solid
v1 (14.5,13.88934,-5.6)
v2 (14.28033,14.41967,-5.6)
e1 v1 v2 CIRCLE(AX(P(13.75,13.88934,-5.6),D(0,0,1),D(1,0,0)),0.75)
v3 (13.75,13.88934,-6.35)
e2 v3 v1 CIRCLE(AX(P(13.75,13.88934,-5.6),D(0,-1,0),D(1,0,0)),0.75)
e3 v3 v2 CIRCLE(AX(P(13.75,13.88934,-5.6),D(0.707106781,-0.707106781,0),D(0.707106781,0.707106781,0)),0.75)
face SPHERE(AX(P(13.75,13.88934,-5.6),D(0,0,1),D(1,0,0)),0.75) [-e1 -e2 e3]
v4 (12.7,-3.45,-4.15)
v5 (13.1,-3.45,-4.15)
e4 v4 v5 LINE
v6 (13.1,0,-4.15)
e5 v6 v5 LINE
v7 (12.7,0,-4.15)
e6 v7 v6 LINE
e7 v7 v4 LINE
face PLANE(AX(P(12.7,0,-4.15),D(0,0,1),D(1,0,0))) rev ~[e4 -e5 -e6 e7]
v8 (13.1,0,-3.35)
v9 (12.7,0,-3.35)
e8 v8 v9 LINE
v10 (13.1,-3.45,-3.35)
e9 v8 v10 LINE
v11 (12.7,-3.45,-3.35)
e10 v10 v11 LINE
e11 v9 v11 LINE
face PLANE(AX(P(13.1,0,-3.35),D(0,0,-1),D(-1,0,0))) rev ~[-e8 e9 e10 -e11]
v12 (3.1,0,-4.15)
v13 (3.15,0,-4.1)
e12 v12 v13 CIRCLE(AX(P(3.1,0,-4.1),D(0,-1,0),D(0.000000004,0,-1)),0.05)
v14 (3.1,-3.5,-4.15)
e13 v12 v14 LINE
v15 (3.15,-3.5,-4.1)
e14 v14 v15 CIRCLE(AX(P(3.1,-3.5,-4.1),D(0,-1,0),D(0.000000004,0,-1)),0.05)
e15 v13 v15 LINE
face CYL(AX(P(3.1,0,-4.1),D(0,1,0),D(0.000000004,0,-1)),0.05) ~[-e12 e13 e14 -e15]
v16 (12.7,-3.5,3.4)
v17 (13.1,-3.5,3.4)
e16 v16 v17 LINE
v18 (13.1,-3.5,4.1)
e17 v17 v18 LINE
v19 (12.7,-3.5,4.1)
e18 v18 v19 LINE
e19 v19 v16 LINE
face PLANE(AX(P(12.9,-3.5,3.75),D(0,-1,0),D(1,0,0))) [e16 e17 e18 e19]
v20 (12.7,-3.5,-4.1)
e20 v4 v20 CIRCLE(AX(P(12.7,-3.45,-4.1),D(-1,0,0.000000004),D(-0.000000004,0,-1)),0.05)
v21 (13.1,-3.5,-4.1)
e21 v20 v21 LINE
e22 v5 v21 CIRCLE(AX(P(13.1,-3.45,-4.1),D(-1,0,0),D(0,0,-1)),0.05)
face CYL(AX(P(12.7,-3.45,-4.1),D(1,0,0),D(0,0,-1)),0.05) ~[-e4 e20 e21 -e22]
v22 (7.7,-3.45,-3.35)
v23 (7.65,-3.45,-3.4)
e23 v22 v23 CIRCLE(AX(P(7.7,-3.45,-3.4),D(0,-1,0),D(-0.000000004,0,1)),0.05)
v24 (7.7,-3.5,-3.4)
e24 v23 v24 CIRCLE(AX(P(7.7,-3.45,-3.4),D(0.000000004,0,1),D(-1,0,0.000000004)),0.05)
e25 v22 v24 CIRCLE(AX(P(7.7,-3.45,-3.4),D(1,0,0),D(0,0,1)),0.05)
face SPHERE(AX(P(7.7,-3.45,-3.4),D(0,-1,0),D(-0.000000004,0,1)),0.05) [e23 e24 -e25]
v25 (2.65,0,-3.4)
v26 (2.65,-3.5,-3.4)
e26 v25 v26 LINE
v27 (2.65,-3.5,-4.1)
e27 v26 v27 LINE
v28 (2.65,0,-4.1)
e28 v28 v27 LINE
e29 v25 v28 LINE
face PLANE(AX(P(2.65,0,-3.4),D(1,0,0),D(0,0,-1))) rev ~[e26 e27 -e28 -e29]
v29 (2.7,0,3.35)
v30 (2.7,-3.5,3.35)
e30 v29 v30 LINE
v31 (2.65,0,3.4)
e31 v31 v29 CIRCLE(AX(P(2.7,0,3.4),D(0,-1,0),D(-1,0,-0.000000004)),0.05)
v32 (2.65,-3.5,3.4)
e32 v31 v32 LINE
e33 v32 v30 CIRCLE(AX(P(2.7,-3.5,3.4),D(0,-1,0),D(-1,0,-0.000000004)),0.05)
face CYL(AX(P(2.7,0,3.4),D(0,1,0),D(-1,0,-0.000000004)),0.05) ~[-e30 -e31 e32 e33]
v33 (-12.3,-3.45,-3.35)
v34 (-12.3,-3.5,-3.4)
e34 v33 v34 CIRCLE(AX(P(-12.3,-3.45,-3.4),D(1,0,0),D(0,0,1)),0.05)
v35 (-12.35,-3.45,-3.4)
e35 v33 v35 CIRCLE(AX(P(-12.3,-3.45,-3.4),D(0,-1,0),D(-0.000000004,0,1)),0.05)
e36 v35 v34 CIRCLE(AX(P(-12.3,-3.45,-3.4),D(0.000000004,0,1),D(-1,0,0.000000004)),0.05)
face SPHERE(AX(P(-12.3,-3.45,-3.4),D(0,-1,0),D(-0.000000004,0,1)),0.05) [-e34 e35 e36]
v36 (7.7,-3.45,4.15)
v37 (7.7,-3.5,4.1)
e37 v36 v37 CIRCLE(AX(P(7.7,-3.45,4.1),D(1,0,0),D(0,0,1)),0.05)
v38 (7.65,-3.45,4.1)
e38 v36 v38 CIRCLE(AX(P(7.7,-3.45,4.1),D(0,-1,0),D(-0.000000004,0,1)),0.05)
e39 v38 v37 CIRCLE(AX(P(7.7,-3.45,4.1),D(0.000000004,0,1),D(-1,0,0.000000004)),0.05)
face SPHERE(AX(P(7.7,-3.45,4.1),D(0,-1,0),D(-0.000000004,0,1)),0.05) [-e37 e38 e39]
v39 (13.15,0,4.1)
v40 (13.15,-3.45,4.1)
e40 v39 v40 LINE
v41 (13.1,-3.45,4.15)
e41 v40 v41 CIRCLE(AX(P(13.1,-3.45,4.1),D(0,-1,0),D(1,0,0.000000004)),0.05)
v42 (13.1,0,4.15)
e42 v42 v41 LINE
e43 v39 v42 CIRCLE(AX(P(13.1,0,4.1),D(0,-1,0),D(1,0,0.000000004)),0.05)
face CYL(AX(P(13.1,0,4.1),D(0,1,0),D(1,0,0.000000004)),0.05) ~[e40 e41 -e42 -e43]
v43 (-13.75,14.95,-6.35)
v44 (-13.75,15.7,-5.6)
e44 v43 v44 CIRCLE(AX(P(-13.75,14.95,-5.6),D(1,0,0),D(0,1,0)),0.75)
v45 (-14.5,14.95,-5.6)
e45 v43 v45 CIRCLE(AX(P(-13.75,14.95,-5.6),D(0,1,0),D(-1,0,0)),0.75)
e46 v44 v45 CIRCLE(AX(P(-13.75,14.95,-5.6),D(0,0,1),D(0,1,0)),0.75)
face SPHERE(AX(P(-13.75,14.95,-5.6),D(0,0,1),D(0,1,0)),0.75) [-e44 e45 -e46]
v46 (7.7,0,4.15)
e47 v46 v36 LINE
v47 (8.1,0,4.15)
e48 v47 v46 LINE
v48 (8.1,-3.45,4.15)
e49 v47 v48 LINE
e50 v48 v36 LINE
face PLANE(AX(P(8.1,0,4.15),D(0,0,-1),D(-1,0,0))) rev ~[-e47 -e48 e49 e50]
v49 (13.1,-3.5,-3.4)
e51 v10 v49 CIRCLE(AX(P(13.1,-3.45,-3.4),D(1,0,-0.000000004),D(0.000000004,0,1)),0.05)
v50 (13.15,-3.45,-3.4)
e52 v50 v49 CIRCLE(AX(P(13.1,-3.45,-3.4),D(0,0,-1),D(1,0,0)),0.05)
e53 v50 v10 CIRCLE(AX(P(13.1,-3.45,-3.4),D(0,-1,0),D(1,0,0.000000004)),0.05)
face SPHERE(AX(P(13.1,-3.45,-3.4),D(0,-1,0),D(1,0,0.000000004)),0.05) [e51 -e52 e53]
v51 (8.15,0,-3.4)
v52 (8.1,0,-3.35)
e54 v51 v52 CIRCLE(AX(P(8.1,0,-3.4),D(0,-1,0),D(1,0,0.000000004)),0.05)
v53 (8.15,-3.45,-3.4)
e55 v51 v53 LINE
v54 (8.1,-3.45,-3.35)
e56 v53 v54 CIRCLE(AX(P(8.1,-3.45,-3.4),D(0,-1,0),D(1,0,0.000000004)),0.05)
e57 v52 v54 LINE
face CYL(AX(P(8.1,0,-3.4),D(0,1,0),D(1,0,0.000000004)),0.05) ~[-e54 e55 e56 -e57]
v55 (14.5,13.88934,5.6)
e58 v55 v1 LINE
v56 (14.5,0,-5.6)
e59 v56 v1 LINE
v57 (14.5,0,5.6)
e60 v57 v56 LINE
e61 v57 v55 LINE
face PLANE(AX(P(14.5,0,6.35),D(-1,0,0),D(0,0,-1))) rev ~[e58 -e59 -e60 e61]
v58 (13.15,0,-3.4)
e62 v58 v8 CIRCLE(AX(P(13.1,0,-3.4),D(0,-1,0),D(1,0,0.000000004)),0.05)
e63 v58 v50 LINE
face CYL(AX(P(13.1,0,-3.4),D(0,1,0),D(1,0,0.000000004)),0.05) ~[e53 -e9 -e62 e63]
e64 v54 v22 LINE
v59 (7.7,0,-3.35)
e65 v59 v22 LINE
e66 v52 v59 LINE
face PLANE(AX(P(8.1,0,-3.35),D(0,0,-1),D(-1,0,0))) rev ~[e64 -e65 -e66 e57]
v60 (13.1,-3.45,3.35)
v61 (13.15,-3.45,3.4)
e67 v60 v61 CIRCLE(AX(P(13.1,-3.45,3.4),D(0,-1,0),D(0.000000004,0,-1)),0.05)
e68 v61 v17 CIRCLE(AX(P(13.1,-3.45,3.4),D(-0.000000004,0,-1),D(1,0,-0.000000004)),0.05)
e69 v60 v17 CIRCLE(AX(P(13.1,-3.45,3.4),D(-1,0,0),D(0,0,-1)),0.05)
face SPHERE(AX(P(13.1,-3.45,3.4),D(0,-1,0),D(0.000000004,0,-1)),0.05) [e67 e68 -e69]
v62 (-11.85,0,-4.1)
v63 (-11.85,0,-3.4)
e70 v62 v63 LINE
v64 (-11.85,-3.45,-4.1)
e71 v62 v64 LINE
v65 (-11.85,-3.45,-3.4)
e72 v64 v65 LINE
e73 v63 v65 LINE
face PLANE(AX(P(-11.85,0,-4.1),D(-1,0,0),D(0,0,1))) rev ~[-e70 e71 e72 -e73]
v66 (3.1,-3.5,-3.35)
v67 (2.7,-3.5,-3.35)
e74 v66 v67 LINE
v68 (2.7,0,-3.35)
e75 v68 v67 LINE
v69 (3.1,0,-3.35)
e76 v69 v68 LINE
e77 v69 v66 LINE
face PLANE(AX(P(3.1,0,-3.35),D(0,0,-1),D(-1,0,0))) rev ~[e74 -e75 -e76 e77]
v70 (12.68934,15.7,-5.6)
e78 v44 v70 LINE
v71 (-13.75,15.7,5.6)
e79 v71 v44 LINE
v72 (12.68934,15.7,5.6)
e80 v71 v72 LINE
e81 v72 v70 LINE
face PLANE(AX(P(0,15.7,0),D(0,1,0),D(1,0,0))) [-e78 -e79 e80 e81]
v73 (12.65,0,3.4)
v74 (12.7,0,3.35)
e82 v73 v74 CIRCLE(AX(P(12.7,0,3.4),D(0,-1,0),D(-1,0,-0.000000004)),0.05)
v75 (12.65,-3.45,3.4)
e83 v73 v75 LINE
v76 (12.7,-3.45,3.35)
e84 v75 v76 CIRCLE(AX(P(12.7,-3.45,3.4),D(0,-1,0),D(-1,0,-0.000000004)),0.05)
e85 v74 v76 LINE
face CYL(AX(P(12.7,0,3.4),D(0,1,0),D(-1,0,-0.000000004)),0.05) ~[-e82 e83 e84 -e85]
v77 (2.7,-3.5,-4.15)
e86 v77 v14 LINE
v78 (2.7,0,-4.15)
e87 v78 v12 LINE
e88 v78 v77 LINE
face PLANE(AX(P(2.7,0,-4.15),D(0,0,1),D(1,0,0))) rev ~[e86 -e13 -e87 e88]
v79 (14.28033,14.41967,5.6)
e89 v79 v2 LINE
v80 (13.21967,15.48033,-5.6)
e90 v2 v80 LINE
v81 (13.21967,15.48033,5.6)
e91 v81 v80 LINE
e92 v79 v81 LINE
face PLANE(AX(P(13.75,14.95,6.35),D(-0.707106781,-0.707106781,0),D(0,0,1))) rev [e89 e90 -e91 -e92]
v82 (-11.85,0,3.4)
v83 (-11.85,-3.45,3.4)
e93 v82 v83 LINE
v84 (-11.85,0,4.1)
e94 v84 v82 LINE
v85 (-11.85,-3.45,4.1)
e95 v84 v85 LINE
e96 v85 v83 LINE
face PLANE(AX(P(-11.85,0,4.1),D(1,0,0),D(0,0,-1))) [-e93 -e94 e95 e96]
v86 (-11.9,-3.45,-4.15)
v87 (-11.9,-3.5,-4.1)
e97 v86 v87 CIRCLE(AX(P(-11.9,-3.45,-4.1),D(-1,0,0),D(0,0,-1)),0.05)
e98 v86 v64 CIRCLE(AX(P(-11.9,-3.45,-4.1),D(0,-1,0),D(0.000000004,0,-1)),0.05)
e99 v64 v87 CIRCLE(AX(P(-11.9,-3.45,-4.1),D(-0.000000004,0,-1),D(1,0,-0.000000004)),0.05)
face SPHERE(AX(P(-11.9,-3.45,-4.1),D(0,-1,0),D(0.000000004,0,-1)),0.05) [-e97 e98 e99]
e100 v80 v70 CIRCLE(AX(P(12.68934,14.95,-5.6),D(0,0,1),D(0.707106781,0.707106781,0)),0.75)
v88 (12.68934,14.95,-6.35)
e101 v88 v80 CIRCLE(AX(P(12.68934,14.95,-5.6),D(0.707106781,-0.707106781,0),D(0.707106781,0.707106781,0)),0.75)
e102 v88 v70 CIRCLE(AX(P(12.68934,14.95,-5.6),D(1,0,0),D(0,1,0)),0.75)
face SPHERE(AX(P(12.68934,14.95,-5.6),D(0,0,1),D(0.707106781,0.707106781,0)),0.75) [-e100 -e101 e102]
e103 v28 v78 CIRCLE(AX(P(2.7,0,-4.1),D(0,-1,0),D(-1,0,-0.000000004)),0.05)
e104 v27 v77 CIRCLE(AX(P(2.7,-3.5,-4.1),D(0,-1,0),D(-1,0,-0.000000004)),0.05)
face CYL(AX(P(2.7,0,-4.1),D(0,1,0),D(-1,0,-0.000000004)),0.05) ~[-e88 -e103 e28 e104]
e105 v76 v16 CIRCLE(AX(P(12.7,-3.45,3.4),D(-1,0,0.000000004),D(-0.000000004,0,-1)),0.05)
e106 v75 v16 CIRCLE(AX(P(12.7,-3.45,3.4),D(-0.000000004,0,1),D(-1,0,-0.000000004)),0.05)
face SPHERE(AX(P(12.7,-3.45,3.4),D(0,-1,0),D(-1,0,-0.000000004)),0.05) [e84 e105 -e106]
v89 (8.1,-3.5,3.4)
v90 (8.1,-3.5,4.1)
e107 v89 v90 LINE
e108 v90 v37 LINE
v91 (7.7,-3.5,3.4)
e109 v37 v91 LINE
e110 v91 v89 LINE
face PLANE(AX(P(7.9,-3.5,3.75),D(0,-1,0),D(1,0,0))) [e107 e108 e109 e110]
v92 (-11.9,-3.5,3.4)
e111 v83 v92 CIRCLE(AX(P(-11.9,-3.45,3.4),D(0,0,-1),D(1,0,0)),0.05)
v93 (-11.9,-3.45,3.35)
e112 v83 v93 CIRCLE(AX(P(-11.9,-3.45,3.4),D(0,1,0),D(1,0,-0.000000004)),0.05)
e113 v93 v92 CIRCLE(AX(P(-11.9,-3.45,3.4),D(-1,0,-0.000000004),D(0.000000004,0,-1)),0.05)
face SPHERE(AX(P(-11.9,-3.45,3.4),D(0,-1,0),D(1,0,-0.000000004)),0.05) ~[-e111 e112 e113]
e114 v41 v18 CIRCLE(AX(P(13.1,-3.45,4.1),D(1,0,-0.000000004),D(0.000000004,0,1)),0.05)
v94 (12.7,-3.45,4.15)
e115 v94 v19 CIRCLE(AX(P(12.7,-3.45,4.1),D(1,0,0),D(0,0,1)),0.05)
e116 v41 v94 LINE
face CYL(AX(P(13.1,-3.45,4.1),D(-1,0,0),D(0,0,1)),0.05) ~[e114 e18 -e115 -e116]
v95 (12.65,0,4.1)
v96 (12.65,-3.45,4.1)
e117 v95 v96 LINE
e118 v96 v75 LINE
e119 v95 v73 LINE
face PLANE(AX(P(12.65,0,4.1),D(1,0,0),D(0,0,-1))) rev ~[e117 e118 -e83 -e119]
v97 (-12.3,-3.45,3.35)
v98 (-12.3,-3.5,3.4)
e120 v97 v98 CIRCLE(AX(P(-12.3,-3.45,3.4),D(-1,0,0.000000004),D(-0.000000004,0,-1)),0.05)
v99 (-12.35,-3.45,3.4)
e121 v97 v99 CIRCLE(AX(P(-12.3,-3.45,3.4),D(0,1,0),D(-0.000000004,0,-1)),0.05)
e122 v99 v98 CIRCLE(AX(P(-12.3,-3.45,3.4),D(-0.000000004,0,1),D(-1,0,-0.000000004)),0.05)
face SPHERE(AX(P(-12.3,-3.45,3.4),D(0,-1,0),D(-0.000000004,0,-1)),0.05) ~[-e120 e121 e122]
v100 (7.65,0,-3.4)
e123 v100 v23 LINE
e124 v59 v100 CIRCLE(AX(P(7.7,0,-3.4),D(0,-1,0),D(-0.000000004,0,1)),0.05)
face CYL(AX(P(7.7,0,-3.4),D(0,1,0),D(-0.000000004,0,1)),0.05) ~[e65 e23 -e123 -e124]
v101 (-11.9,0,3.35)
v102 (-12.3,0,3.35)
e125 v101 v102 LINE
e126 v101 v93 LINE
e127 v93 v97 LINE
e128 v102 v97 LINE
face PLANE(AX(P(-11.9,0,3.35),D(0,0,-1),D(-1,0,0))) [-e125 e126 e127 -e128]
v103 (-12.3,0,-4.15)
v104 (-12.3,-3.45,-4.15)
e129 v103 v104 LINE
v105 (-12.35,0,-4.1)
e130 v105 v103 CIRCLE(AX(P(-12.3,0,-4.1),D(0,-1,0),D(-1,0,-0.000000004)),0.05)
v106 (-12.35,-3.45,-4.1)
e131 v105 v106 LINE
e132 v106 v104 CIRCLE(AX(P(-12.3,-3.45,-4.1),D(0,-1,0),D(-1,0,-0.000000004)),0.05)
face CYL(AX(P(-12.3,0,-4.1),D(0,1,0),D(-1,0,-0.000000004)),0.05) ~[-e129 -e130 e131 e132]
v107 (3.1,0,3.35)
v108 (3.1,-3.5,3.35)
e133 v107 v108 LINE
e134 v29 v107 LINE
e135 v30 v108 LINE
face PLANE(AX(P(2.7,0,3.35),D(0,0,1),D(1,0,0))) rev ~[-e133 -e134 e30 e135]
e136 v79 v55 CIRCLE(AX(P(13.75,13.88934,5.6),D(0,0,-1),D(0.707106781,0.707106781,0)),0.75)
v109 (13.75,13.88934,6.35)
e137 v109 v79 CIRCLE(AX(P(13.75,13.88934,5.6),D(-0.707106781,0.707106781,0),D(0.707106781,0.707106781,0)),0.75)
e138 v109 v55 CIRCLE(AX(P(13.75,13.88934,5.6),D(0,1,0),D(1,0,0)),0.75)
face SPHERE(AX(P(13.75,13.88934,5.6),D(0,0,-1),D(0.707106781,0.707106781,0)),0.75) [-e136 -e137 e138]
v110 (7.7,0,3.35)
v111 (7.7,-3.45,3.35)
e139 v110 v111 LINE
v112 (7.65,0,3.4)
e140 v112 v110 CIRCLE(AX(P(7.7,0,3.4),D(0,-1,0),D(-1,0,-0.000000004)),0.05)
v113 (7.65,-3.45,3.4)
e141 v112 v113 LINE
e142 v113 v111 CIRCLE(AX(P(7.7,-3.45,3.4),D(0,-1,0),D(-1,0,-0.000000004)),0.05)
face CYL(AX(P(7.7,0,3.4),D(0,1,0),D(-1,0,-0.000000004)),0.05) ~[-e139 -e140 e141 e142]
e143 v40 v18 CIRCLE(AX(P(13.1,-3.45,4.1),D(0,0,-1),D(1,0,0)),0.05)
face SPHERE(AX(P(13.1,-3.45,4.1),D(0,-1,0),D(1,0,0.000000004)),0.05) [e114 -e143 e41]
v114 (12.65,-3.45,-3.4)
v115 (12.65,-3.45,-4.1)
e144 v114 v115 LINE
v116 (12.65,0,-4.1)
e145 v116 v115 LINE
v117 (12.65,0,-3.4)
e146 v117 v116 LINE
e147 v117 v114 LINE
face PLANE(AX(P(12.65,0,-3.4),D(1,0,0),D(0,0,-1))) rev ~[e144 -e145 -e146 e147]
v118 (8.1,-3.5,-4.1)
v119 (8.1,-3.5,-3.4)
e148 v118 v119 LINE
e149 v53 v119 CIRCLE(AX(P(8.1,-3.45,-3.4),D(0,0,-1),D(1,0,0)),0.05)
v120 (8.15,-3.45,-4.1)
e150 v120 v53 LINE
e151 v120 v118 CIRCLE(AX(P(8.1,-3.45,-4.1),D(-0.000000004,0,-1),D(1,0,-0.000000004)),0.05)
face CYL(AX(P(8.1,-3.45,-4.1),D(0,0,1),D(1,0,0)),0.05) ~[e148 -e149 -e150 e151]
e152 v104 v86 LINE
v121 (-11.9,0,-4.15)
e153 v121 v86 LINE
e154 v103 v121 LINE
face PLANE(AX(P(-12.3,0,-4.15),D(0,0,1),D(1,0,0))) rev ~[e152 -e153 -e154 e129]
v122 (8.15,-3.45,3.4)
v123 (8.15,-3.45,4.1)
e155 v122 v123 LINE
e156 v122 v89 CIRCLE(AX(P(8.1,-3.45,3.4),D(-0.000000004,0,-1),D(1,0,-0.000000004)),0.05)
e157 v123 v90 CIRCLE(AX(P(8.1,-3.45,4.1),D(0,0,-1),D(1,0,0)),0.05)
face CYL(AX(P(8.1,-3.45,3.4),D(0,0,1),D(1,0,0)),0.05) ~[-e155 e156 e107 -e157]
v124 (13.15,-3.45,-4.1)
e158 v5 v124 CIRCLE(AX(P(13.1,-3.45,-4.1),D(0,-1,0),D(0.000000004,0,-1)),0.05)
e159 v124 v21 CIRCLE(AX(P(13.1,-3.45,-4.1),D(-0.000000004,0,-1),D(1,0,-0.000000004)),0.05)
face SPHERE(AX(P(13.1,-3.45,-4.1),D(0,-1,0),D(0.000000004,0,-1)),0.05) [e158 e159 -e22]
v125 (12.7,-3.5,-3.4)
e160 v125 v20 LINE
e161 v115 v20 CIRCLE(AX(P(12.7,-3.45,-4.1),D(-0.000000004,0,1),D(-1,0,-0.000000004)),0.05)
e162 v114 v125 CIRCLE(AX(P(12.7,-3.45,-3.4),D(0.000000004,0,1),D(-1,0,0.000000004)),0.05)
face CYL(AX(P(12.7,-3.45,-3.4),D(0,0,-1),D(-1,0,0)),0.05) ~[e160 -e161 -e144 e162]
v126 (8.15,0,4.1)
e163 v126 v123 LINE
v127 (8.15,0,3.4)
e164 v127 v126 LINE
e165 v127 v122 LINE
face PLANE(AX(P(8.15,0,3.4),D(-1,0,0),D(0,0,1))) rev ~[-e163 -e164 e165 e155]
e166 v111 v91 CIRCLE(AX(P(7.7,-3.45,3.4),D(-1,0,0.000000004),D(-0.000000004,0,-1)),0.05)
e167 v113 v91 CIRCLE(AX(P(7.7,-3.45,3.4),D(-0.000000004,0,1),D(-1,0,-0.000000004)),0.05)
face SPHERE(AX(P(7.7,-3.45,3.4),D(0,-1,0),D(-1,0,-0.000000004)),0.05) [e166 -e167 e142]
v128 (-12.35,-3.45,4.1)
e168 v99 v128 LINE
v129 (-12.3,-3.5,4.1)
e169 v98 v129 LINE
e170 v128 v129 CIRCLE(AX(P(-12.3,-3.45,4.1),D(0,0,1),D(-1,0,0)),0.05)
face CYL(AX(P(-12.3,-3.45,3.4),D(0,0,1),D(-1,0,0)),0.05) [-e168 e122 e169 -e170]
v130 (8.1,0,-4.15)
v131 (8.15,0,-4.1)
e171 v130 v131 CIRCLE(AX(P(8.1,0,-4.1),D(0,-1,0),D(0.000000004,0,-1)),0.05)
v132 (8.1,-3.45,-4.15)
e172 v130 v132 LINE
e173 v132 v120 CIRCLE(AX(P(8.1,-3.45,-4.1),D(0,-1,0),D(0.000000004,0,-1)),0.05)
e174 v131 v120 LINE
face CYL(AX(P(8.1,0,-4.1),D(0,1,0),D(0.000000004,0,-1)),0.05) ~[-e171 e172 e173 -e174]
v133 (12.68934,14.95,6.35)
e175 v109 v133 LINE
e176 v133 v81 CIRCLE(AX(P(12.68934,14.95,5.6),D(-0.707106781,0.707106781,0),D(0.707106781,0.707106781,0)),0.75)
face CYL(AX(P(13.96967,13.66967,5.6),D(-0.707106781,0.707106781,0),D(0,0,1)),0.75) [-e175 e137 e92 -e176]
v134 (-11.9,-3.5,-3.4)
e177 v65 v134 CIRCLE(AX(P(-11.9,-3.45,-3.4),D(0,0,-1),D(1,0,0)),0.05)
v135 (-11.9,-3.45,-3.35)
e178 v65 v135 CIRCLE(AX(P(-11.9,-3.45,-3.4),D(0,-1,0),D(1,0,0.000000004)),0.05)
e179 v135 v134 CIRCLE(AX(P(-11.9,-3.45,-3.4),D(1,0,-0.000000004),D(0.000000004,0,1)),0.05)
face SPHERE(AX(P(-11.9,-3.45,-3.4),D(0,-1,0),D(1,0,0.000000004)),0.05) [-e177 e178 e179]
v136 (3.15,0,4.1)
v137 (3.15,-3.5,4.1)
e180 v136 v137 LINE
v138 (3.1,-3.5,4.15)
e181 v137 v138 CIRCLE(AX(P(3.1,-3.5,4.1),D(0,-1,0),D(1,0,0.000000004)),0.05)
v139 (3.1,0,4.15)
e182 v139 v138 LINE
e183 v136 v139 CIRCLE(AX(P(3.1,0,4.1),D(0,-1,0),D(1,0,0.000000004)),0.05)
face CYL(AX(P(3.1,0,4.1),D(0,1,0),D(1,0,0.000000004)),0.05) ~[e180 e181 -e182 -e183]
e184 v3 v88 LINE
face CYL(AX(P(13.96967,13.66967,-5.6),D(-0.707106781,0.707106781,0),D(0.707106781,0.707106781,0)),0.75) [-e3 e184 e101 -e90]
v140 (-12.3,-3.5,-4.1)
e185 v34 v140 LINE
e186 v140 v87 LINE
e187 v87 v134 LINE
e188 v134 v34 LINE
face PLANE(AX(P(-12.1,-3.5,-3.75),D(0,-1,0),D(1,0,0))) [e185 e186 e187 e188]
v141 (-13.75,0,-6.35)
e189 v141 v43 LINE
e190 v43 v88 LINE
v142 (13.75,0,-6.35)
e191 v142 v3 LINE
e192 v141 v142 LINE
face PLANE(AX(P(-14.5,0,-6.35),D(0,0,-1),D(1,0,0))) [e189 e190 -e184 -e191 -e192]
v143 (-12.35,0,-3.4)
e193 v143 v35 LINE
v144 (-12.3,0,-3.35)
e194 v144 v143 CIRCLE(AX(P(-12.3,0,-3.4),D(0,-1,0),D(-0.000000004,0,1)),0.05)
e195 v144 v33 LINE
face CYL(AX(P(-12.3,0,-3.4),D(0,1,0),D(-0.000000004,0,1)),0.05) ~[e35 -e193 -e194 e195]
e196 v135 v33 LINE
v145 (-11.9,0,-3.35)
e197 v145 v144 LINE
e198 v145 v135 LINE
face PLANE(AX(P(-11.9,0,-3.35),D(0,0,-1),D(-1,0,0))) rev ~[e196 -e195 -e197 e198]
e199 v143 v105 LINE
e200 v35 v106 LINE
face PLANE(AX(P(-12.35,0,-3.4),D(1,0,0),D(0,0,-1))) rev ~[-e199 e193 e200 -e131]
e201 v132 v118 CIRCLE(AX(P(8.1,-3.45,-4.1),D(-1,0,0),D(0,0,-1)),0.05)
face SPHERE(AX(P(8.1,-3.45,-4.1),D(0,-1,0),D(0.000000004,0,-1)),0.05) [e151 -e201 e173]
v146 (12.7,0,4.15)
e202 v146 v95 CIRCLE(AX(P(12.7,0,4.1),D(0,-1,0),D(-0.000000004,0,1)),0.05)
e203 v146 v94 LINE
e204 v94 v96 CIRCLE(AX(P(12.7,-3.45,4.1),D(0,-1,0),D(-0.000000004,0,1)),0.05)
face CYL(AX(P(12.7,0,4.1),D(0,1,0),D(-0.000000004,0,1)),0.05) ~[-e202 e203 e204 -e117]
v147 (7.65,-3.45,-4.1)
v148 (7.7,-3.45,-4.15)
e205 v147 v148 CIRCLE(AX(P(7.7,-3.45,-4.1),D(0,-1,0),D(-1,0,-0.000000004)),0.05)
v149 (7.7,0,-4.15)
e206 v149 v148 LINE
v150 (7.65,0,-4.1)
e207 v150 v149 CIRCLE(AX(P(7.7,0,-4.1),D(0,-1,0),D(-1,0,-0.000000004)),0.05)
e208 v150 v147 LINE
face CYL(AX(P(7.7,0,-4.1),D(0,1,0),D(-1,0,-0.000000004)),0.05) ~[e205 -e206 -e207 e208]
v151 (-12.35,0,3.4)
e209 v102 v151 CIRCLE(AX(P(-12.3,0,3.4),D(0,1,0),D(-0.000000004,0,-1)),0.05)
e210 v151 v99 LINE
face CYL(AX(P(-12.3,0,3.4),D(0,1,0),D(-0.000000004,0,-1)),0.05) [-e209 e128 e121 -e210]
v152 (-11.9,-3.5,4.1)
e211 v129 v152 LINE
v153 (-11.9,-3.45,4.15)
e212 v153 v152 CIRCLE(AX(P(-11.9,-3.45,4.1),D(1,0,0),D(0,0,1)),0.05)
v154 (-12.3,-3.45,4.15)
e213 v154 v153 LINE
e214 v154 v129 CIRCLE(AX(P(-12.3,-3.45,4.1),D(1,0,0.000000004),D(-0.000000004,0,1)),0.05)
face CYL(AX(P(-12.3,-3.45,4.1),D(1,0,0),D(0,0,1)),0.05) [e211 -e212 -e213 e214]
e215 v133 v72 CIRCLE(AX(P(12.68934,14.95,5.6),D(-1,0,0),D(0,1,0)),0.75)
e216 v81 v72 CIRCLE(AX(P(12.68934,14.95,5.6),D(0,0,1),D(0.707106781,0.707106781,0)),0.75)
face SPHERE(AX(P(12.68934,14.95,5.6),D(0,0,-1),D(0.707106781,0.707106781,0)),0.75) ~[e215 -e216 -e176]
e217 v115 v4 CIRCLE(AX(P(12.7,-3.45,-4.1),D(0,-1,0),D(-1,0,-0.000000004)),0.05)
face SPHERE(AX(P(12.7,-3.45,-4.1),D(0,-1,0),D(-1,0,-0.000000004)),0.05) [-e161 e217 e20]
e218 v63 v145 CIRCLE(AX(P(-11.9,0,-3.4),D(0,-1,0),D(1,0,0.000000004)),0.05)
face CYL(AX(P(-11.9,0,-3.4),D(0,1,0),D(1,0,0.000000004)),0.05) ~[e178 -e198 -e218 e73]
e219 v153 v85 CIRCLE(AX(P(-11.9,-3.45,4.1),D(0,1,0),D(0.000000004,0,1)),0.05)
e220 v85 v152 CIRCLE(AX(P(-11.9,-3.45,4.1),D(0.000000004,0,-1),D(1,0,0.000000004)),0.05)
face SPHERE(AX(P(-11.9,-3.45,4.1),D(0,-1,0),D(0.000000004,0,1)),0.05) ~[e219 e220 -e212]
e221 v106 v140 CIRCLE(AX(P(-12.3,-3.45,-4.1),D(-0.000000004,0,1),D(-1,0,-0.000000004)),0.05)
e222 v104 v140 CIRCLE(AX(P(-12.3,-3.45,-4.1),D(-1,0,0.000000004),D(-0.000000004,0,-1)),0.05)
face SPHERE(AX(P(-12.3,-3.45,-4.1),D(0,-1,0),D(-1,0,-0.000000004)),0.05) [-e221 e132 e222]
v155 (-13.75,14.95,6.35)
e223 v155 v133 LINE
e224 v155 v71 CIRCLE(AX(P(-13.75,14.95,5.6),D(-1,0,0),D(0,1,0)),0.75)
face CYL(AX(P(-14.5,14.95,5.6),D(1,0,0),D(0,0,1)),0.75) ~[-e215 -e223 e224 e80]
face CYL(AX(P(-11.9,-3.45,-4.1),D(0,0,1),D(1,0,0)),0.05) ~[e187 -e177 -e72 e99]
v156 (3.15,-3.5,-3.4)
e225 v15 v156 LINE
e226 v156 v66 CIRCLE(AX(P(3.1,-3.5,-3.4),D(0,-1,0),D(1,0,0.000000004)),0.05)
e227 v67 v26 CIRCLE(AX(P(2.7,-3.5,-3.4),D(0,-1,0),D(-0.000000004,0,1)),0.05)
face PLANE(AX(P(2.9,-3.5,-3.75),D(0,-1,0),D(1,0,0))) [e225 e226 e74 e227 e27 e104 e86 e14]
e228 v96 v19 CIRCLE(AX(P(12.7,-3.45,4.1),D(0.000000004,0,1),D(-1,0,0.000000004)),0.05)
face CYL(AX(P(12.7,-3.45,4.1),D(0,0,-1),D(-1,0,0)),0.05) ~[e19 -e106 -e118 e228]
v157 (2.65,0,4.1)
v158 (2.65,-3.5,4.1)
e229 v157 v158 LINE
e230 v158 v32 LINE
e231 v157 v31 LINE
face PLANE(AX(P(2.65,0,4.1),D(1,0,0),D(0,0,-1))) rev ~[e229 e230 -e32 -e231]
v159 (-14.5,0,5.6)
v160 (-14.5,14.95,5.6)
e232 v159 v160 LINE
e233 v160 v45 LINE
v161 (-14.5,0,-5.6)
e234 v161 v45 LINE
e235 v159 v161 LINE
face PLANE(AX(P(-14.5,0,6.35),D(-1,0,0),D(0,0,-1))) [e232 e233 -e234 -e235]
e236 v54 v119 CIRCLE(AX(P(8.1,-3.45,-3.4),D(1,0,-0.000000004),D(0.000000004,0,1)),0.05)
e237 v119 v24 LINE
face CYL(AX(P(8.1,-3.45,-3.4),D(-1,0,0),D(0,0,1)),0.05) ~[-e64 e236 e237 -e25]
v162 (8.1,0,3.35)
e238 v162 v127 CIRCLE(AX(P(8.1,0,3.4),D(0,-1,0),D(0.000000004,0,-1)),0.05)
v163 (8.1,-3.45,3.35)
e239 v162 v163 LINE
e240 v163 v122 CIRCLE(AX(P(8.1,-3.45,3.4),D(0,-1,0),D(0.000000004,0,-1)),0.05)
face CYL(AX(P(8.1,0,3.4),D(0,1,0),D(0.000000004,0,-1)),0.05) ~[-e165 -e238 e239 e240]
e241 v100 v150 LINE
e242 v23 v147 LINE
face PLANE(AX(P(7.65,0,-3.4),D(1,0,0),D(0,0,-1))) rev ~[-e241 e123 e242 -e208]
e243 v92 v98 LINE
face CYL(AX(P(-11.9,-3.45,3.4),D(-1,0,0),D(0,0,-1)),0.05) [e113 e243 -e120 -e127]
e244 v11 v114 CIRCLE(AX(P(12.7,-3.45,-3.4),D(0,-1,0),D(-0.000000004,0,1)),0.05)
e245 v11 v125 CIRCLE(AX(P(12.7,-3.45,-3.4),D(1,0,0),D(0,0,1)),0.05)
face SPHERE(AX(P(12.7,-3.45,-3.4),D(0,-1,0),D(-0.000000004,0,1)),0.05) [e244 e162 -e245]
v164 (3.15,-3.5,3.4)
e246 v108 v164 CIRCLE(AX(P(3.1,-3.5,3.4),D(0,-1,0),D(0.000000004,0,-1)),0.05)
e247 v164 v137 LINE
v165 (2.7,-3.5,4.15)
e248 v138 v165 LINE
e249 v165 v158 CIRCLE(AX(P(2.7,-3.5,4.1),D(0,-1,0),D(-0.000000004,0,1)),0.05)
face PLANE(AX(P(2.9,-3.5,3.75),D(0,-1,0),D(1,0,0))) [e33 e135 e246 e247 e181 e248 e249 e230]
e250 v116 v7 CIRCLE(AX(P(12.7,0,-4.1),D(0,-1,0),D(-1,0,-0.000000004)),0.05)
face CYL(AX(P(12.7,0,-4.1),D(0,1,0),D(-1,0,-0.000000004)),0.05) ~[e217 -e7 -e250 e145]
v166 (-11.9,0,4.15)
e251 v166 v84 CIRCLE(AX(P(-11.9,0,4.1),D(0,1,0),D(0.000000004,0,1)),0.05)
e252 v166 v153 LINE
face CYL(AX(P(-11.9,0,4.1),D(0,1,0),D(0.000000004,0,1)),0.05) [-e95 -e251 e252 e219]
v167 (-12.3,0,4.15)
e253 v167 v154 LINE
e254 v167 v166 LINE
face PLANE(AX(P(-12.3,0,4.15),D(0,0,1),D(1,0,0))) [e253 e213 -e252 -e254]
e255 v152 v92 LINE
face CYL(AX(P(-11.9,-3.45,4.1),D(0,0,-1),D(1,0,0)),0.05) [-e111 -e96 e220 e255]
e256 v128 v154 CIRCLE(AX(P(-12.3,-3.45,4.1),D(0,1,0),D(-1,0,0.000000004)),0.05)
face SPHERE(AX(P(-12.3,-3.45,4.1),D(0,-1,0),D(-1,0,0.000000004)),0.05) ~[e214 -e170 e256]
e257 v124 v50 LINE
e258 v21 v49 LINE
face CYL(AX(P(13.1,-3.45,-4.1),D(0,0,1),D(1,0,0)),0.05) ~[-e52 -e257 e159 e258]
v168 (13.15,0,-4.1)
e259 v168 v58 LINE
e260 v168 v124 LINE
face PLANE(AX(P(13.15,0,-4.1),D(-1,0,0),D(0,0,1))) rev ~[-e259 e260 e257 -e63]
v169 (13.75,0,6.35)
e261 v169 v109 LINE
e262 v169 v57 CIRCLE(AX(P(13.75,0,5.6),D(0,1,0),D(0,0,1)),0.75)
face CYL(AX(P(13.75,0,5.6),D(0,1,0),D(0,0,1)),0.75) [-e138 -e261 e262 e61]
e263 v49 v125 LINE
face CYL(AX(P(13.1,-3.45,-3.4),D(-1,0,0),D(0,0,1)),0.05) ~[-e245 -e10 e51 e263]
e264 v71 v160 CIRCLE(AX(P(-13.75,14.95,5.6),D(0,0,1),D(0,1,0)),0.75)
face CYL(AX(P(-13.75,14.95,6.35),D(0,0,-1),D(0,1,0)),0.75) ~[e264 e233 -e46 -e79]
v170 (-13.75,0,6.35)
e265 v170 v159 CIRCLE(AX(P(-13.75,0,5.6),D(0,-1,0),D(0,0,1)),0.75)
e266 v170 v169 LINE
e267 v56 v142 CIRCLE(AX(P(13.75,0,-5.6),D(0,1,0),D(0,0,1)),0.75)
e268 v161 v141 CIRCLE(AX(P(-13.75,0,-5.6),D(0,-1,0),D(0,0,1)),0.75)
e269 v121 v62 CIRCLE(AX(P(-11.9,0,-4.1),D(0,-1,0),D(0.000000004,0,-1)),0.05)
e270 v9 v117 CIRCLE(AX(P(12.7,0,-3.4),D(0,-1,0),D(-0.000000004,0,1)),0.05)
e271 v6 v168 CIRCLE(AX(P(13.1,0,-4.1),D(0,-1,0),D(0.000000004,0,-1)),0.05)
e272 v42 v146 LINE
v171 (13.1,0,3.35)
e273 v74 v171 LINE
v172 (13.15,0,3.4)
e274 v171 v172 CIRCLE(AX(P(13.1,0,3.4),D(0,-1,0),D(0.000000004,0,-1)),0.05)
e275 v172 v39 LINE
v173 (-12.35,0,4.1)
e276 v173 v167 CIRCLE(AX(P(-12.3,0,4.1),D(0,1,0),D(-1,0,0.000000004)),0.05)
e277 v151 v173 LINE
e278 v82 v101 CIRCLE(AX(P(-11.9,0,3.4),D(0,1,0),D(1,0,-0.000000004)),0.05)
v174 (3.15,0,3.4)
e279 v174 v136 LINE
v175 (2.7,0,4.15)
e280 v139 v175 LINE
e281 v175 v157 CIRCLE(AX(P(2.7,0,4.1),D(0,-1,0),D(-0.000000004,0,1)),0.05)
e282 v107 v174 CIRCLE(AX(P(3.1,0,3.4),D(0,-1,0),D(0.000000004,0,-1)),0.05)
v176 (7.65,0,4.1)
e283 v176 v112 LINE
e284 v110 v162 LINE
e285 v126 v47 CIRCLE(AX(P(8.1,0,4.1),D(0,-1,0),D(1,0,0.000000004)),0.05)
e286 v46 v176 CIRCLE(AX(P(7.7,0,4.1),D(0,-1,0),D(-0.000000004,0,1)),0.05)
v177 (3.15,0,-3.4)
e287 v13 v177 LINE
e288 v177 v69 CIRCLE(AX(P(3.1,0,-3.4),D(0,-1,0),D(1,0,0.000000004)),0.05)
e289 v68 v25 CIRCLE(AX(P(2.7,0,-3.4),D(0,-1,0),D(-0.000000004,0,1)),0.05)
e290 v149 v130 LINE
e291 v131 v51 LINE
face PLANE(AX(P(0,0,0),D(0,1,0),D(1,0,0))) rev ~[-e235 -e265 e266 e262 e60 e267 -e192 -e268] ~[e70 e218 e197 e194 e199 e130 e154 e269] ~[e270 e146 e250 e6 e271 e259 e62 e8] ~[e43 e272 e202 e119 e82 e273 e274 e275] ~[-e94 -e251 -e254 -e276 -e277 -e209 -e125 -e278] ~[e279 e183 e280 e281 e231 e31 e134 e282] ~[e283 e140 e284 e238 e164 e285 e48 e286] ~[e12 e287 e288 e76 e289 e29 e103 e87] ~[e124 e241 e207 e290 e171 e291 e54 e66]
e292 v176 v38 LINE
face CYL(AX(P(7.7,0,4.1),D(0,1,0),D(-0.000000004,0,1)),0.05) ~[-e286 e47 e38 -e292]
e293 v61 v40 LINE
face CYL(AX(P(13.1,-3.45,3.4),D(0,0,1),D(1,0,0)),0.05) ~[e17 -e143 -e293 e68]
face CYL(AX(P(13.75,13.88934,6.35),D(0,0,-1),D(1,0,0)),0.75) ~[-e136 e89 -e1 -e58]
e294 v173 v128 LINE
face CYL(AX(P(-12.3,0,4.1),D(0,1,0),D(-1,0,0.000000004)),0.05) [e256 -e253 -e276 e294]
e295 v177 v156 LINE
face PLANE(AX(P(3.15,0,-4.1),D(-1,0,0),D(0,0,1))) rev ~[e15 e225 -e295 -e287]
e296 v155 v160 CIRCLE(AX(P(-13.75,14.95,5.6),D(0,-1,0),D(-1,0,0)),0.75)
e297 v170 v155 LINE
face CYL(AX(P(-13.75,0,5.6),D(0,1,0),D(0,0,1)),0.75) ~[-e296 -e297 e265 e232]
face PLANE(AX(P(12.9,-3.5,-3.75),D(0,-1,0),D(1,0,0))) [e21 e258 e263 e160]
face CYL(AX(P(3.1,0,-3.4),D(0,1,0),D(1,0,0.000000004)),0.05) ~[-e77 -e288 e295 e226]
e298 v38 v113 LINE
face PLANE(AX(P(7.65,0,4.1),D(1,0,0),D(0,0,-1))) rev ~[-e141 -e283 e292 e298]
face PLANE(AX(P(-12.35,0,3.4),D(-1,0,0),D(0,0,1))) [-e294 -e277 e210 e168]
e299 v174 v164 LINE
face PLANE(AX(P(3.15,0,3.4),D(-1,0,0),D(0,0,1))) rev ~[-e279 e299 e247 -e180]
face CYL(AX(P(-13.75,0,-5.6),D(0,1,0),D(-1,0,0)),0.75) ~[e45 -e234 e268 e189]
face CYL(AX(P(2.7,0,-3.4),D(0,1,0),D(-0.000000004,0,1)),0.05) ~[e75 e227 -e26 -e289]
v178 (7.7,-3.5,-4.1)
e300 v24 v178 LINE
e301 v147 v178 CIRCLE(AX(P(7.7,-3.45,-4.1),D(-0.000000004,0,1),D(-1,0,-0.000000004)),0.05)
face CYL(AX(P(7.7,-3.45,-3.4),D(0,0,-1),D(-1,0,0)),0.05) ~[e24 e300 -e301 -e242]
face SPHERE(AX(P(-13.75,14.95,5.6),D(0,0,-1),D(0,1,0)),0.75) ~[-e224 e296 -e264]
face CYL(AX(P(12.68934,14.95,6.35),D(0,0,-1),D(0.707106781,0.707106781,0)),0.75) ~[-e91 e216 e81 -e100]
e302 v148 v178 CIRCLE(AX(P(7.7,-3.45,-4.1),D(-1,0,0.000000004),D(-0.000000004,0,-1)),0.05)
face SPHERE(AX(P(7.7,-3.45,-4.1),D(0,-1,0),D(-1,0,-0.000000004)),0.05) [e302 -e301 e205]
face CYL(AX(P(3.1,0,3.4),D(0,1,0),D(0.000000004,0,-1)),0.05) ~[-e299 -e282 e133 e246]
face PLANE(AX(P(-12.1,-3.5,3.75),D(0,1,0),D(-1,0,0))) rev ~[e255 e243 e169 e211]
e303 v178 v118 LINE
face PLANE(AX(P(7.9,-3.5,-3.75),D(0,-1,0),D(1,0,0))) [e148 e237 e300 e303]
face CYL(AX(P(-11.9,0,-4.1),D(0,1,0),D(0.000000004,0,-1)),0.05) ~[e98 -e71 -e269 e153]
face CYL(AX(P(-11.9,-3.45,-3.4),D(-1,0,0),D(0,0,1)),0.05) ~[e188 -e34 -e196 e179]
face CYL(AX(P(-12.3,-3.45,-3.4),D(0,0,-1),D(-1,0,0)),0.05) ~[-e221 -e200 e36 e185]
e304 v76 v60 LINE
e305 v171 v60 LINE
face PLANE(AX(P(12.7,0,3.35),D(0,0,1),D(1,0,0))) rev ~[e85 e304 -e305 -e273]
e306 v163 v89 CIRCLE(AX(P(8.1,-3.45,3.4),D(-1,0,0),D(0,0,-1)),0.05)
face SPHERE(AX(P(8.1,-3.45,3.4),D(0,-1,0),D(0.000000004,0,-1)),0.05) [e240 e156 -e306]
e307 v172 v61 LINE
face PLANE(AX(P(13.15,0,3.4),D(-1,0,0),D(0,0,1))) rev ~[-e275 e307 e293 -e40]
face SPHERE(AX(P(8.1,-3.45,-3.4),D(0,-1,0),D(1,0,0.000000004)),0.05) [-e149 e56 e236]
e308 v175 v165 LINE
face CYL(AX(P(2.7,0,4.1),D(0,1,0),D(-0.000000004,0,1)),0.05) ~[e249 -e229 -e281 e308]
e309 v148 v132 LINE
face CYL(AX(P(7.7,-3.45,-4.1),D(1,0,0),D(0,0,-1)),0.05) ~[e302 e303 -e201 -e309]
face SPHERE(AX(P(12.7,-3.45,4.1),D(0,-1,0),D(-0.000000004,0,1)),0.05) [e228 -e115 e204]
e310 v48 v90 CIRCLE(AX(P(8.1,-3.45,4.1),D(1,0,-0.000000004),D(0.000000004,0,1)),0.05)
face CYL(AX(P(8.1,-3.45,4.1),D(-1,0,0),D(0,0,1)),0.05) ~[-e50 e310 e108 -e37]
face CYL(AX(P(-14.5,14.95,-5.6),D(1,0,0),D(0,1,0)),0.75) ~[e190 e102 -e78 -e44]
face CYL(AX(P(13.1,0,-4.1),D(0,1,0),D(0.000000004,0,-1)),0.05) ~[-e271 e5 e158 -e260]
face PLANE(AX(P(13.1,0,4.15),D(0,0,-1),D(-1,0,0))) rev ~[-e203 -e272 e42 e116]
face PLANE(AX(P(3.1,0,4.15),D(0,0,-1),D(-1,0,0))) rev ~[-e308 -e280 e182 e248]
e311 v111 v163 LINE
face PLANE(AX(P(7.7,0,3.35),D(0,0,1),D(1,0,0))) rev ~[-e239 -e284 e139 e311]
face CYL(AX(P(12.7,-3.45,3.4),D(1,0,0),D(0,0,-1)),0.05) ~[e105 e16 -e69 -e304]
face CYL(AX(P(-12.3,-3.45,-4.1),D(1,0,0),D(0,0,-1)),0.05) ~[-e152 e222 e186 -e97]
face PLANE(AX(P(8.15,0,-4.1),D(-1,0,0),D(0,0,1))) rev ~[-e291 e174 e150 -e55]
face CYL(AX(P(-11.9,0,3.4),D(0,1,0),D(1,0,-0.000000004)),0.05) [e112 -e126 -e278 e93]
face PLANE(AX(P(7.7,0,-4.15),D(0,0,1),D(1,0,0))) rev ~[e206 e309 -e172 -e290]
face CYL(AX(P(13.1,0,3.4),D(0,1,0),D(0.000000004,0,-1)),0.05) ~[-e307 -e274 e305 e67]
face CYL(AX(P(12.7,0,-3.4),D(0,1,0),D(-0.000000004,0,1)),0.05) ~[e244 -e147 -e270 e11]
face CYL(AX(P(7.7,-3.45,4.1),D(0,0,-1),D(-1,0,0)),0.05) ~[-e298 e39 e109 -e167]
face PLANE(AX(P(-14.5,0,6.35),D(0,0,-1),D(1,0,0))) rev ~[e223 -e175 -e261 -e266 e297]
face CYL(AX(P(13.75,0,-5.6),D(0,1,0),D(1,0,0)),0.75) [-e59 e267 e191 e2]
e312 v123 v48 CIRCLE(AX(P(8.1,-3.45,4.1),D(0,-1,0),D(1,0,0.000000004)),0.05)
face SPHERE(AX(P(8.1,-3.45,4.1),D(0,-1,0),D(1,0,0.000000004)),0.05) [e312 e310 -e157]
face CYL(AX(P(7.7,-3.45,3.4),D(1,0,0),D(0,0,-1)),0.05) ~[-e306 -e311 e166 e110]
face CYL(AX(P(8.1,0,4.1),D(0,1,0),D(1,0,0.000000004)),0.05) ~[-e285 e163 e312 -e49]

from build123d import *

# Parameters (mm, degrees)
SKETCH_1_W      = 29
SKETCH_1_H      = 12.7
EXTRUDE_1_DEPTH = 15.7
EXTRUDE_2_DEPTH = 3.5
FILLET_1_R      = 0.05
CHAMFER_1_SIZE  = 1.5
FILLET_2_R      = 0.75


with BuildPart() as part:
    # Эскиз1 → Бобышка-Вытянуть1 (new body)
    with BuildSketch(Plane(origin=(0, 0, 0), x_dir=(1, 0, 0), z_dir=(0, 1, 0))):
        Rectangle(SKETCH_1_W, SKETCH_1_H)
    extrude(amount=EXTRUDE_1_DEPTH)

    # Эскиз2 → Бобышка-Вытянуть2 (add)
    with BuildSketch(Plane.XZ):
        with BuildLine():
            Line((-12.3, 4.15), (-11.9, 4.15))
            ThreePointArc((-11.9, 4.15), (-11.864644661, 4.135355339), (-11.85, 4.1))
            Line((-11.85, 4.1), (-11.85, 3.4))
            ThreePointArc((-11.85, 3.4), (-11.864644661, 3.364644661), (-11.9, 3.35))
            Line((-11.9, 3.35), (-12.3, 3.35))
            ThreePointArc((-12.3, 3.35), (-12.335355339, 3.364644661), (-12.35, 3.4))
            Line((-12.35, 3.4), (-12.35, 4.1))
            ThreePointArc((-12.35, 4.1), (-12.335355339, 4.135355339), (-12.3, 4.15))
        make_face()
        with BuildLine():
            Line((2.65, 4.1), (2.65, 3.4))
            ThreePointArc((2.65, 3.4), (2.664644661, 3.364644661), (2.7, 3.35))
            Line((2.7, 3.35), (3.1, 3.35))
            ThreePointArc((3.1, 3.35), (3.135355339, 3.364644661), (3.15, 3.4))
            Line((3.15, 3.4), (3.15, 4.1))
            ThreePointArc((3.15, 4.1), (3.135355339, 4.135355339), (3.1, 4.15))
            Line((3.1, 4.15), (2.7, 4.15))
            ThreePointArc((2.7, 4.15), (2.664644661, 4.135355339), (2.65, 4.1))
        make_face()
        with BuildLine():
            Line((7.65, 4.1), (7.65, 3.4))
            ThreePointArc((7.65, 3.4), (7.664644661, 3.364644661), (7.7, 3.35))
            Line((7.7, 3.35), (8.1, 3.35))
            ThreePointArc((8.1, 3.35), (8.135355339, 3.364644661), (8.15, 3.4))
            Line((8.15, 3.4), (8.15, 4.1))
            ThreePointArc((8.15, 4.1), (8.135355339, 4.135355339), (8.1, 4.15))
            Line((8.1, 4.15), (7.7, 4.15))
            ThreePointArc((7.7, 4.15), (7.664644661, 4.135355339), (7.65, 4.1))
        make_face()
        with BuildLine():
            Line((12.65, 4.1), (12.65, 3.4))
            ThreePointArc((12.65, 3.4), (12.664644661, 3.364644661), (12.7, 3.35))
            Line((12.7, 3.35), (13.1, 3.35))
            ThreePointArc((13.1, 3.35), (13.135355339, 3.364644661), (13.15, 3.4))
            Line((13.15, 3.4), (13.15, 4.1))
            ThreePointArc((13.15, 4.1), (13.135355339, 4.135355339), (13.1, 4.15))
            Line((13.1, 4.15), (12.7, 4.15))
            ThreePointArc((12.7, 4.15), (12.664644661, 4.135355339), (12.65, 4.1))
        make_face()
        with BuildLine():
            Line((2.65, -3.4), (2.65, -4.1))
            ThreePointArc((2.65, -4.1), (2.664644661, -4.135355339), (2.7, -4.15))
            Line((2.7, -4.15), (3.1, -4.15))
            ThreePointArc((3.1, -4.15), (3.135355339, -4.135355339), (3.15, -4.1))
            Line((3.15, -4.1), (3.15, -3.4))
            ThreePointArc((3.15, -3.4), (3.135355339, -3.364644661), (3.1, -3.35))
            Line((3.1, -3.35), (2.7, -3.35))
            ThreePointArc((2.7, -3.35), (2.664644661, -3.364644661), (2.65, -3.4))
        make_face()
        with BuildLine():
            Line((7.65, -3.4), (7.65, -4.1))
            ThreePointArc((7.65, -4.1), (7.664644661, -4.135355339), (7.7, -4.15))
            Line((7.7, -4.15), (8.1, -4.15))
            ThreePointArc((8.1, -4.15), (8.135355339, -4.135355339), (8.15, -4.1))
            Line((8.15, -4.1), (8.15, -3.4))
            ThreePointArc((8.15, -3.4), (8.135355339, -3.364644661), (8.1, -3.35))
            Line((8.1, -3.35), (7.7, -3.35))
            ThreePointArc((7.7, -3.35), (7.664644661, -3.364644661), (7.65, -3.4))
        make_face()
        with BuildLine():
            Line((12.65, -3.4), (12.65, -4.1))
            ThreePointArc((12.65, -4.1), (12.664644661, -4.135355339), (12.7, -4.15))
            Line((12.7, -4.15), (13.1, -4.15))
            ThreePointArc((13.1, -4.15), (13.135355339, -4.135355339), (13.15, -4.1))
            Line((13.15, -4.1), (13.15, -3.4))
            ThreePointArc((13.15, -3.4), (13.135355339, -3.364644661), (13.1, -3.35))
            Line((13.1, -3.35), (12.7, -3.35))
            ThreePointArc((12.7, -3.35), (12.664644661, -3.364644661), (12.65, -3.4))
        make_face()
        with BuildLine():
            Line((-12.35, -3.4), (-12.35, -4.1))
            ThreePointArc((-12.35, -4.1), (-12.335355339, -4.135355339), (-12.3, -4.15))
            Line((-12.3, -4.15), (-11.9, -4.15))
            ThreePointArc((-11.9, -4.15), (-11.864644661, -4.135355339), (-11.85, -4.1))
            Line((-11.85, -4.1), (-11.85, -3.4))
            ThreePointArc((-11.85, -3.4), (-11.864644661, -3.364644661), (-11.9, -3.35))
            Line((-11.9, -3.35), (-12.3, -3.35))
            ThreePointArc((-12.3, -3.35), (-12.335355339, -3.364644661), (-12.35, -3.4))
        make_face()
    extrude(amount=EXTRUDE_2_DEPTH)

    # Скругление1
    fillet_1_edges = [part.edges().sort_by_distance(p)[0] for p in [
        (7.664644661, -3.5, -4.135355339),
        (7.9, -3.5, -4.15),
        (8.135355339, -3.5, -4.135355339),
        (8.15, -3.5, -3.75),
        (8.135355339, -3.5, -3.364644661),
        (7.9, -3.5, -3.35),
        (7.664644661, -3.5, -3.364644661),
        (7.65, -3.5, -3.75),
        (12.664644661, -3.5, -4.135355339),
        (12.9, -3.5, -4.15),
        (13.135355339, -3.5, -4.135355339),
        (13.15, -3.5, -3.75),
        (13.135355339, -3.5, -3.364644661),
        (12.9, -3.5, -3.35),
        (12.664644661, -3.5, -3.364644661),
        (12.65, -3.5, -3.75),
        (-12.335355339, -3.5, -4.135355339),
        (-12.1, -3.5, -4.15),
        (-11.864644661, -3.5, -4.135355339),
        (-11.85, -3.5, -3.75),
        (-11.864644661, -3.5, -3.364644661),
        (-12.1, -3.5, -3.35),
        (-12.335355339, -3.5, -3.364644661),
        (-12.35, -3.5, -3.75),
        (-12.335355339, -3.5, 3.364644661),
        (-12.1, -3.5, 3.35),
        (-11.864644661, -3.5, 3.364644661),
        (-11.85, -3.5, 3.75),
        (-11.864644661, -3.5, 4.135355339),
        (-12.1, -3.5, 4.15),
        (-12.335355339, -3.5, 4.135355339),
        (-12.35, -3.5, 3.75),
        (7.664644661, -3.5, 3.364644661),
        (7.9, -3.5, 3.35),
        (8.135355339, -3.5, 3.364644661),
        (8.15, -3.5, 3.75),
        (8.135355339, -3.5, 4.135355339),
        (7.9, -3.5, 4.15),
        (7.664644661, -3.5, 4.135355339),
        (7.65, -3.5, 3.75),
        (12.664644661, -3.5, 3.364644661),
        (12.9, -3.5, 3.35),
        (13.135355339, -3.5, 3.364644661),
        (13.15, -3.5, 3.75),
        (13.135355339, -3.5, 4.135355339),
        (12.9, -3.5, 4.15),
        (12.664644661, -3.5, 4.135355339),
        (12.65, -3.5, 3.75),
    ]]
    fillet(fillet_1_edges, radius=FILLET_1_R)

    # Фаска1
    chamfer_1_edges = [part.edges().sort_by_distance(p)[0] for p in [
        (14.5, 15.7, 0),
    ]]
    chamfer(chamfer_1_edges, length=CHAMFER_1_SIZE)

    # Скругление2
    fillet_2_edges = [part.edges().sort_by_distance(p)[0] for p in [
        (-14.5, 15.7, 0),
        (-0.75, 15.7, 6.35),
        (-0.75, 15.7, -6.35),
        (13, 15.7, 0),
        (14.5, 7.1, -6.35),
        (13.75, 14.95, -6.35),
        (14.5, 7.1, 6.35),
        (14.5, 14.2, 0),
        (13.75, 14.95, 6.35),
        (-14.5, 7.85, 6.35),
        (-14.5, 7.85, -6.35),
    ]]
    fillet(fillet_2_edges, radius=FILLET_2_R)


solid = part.part
